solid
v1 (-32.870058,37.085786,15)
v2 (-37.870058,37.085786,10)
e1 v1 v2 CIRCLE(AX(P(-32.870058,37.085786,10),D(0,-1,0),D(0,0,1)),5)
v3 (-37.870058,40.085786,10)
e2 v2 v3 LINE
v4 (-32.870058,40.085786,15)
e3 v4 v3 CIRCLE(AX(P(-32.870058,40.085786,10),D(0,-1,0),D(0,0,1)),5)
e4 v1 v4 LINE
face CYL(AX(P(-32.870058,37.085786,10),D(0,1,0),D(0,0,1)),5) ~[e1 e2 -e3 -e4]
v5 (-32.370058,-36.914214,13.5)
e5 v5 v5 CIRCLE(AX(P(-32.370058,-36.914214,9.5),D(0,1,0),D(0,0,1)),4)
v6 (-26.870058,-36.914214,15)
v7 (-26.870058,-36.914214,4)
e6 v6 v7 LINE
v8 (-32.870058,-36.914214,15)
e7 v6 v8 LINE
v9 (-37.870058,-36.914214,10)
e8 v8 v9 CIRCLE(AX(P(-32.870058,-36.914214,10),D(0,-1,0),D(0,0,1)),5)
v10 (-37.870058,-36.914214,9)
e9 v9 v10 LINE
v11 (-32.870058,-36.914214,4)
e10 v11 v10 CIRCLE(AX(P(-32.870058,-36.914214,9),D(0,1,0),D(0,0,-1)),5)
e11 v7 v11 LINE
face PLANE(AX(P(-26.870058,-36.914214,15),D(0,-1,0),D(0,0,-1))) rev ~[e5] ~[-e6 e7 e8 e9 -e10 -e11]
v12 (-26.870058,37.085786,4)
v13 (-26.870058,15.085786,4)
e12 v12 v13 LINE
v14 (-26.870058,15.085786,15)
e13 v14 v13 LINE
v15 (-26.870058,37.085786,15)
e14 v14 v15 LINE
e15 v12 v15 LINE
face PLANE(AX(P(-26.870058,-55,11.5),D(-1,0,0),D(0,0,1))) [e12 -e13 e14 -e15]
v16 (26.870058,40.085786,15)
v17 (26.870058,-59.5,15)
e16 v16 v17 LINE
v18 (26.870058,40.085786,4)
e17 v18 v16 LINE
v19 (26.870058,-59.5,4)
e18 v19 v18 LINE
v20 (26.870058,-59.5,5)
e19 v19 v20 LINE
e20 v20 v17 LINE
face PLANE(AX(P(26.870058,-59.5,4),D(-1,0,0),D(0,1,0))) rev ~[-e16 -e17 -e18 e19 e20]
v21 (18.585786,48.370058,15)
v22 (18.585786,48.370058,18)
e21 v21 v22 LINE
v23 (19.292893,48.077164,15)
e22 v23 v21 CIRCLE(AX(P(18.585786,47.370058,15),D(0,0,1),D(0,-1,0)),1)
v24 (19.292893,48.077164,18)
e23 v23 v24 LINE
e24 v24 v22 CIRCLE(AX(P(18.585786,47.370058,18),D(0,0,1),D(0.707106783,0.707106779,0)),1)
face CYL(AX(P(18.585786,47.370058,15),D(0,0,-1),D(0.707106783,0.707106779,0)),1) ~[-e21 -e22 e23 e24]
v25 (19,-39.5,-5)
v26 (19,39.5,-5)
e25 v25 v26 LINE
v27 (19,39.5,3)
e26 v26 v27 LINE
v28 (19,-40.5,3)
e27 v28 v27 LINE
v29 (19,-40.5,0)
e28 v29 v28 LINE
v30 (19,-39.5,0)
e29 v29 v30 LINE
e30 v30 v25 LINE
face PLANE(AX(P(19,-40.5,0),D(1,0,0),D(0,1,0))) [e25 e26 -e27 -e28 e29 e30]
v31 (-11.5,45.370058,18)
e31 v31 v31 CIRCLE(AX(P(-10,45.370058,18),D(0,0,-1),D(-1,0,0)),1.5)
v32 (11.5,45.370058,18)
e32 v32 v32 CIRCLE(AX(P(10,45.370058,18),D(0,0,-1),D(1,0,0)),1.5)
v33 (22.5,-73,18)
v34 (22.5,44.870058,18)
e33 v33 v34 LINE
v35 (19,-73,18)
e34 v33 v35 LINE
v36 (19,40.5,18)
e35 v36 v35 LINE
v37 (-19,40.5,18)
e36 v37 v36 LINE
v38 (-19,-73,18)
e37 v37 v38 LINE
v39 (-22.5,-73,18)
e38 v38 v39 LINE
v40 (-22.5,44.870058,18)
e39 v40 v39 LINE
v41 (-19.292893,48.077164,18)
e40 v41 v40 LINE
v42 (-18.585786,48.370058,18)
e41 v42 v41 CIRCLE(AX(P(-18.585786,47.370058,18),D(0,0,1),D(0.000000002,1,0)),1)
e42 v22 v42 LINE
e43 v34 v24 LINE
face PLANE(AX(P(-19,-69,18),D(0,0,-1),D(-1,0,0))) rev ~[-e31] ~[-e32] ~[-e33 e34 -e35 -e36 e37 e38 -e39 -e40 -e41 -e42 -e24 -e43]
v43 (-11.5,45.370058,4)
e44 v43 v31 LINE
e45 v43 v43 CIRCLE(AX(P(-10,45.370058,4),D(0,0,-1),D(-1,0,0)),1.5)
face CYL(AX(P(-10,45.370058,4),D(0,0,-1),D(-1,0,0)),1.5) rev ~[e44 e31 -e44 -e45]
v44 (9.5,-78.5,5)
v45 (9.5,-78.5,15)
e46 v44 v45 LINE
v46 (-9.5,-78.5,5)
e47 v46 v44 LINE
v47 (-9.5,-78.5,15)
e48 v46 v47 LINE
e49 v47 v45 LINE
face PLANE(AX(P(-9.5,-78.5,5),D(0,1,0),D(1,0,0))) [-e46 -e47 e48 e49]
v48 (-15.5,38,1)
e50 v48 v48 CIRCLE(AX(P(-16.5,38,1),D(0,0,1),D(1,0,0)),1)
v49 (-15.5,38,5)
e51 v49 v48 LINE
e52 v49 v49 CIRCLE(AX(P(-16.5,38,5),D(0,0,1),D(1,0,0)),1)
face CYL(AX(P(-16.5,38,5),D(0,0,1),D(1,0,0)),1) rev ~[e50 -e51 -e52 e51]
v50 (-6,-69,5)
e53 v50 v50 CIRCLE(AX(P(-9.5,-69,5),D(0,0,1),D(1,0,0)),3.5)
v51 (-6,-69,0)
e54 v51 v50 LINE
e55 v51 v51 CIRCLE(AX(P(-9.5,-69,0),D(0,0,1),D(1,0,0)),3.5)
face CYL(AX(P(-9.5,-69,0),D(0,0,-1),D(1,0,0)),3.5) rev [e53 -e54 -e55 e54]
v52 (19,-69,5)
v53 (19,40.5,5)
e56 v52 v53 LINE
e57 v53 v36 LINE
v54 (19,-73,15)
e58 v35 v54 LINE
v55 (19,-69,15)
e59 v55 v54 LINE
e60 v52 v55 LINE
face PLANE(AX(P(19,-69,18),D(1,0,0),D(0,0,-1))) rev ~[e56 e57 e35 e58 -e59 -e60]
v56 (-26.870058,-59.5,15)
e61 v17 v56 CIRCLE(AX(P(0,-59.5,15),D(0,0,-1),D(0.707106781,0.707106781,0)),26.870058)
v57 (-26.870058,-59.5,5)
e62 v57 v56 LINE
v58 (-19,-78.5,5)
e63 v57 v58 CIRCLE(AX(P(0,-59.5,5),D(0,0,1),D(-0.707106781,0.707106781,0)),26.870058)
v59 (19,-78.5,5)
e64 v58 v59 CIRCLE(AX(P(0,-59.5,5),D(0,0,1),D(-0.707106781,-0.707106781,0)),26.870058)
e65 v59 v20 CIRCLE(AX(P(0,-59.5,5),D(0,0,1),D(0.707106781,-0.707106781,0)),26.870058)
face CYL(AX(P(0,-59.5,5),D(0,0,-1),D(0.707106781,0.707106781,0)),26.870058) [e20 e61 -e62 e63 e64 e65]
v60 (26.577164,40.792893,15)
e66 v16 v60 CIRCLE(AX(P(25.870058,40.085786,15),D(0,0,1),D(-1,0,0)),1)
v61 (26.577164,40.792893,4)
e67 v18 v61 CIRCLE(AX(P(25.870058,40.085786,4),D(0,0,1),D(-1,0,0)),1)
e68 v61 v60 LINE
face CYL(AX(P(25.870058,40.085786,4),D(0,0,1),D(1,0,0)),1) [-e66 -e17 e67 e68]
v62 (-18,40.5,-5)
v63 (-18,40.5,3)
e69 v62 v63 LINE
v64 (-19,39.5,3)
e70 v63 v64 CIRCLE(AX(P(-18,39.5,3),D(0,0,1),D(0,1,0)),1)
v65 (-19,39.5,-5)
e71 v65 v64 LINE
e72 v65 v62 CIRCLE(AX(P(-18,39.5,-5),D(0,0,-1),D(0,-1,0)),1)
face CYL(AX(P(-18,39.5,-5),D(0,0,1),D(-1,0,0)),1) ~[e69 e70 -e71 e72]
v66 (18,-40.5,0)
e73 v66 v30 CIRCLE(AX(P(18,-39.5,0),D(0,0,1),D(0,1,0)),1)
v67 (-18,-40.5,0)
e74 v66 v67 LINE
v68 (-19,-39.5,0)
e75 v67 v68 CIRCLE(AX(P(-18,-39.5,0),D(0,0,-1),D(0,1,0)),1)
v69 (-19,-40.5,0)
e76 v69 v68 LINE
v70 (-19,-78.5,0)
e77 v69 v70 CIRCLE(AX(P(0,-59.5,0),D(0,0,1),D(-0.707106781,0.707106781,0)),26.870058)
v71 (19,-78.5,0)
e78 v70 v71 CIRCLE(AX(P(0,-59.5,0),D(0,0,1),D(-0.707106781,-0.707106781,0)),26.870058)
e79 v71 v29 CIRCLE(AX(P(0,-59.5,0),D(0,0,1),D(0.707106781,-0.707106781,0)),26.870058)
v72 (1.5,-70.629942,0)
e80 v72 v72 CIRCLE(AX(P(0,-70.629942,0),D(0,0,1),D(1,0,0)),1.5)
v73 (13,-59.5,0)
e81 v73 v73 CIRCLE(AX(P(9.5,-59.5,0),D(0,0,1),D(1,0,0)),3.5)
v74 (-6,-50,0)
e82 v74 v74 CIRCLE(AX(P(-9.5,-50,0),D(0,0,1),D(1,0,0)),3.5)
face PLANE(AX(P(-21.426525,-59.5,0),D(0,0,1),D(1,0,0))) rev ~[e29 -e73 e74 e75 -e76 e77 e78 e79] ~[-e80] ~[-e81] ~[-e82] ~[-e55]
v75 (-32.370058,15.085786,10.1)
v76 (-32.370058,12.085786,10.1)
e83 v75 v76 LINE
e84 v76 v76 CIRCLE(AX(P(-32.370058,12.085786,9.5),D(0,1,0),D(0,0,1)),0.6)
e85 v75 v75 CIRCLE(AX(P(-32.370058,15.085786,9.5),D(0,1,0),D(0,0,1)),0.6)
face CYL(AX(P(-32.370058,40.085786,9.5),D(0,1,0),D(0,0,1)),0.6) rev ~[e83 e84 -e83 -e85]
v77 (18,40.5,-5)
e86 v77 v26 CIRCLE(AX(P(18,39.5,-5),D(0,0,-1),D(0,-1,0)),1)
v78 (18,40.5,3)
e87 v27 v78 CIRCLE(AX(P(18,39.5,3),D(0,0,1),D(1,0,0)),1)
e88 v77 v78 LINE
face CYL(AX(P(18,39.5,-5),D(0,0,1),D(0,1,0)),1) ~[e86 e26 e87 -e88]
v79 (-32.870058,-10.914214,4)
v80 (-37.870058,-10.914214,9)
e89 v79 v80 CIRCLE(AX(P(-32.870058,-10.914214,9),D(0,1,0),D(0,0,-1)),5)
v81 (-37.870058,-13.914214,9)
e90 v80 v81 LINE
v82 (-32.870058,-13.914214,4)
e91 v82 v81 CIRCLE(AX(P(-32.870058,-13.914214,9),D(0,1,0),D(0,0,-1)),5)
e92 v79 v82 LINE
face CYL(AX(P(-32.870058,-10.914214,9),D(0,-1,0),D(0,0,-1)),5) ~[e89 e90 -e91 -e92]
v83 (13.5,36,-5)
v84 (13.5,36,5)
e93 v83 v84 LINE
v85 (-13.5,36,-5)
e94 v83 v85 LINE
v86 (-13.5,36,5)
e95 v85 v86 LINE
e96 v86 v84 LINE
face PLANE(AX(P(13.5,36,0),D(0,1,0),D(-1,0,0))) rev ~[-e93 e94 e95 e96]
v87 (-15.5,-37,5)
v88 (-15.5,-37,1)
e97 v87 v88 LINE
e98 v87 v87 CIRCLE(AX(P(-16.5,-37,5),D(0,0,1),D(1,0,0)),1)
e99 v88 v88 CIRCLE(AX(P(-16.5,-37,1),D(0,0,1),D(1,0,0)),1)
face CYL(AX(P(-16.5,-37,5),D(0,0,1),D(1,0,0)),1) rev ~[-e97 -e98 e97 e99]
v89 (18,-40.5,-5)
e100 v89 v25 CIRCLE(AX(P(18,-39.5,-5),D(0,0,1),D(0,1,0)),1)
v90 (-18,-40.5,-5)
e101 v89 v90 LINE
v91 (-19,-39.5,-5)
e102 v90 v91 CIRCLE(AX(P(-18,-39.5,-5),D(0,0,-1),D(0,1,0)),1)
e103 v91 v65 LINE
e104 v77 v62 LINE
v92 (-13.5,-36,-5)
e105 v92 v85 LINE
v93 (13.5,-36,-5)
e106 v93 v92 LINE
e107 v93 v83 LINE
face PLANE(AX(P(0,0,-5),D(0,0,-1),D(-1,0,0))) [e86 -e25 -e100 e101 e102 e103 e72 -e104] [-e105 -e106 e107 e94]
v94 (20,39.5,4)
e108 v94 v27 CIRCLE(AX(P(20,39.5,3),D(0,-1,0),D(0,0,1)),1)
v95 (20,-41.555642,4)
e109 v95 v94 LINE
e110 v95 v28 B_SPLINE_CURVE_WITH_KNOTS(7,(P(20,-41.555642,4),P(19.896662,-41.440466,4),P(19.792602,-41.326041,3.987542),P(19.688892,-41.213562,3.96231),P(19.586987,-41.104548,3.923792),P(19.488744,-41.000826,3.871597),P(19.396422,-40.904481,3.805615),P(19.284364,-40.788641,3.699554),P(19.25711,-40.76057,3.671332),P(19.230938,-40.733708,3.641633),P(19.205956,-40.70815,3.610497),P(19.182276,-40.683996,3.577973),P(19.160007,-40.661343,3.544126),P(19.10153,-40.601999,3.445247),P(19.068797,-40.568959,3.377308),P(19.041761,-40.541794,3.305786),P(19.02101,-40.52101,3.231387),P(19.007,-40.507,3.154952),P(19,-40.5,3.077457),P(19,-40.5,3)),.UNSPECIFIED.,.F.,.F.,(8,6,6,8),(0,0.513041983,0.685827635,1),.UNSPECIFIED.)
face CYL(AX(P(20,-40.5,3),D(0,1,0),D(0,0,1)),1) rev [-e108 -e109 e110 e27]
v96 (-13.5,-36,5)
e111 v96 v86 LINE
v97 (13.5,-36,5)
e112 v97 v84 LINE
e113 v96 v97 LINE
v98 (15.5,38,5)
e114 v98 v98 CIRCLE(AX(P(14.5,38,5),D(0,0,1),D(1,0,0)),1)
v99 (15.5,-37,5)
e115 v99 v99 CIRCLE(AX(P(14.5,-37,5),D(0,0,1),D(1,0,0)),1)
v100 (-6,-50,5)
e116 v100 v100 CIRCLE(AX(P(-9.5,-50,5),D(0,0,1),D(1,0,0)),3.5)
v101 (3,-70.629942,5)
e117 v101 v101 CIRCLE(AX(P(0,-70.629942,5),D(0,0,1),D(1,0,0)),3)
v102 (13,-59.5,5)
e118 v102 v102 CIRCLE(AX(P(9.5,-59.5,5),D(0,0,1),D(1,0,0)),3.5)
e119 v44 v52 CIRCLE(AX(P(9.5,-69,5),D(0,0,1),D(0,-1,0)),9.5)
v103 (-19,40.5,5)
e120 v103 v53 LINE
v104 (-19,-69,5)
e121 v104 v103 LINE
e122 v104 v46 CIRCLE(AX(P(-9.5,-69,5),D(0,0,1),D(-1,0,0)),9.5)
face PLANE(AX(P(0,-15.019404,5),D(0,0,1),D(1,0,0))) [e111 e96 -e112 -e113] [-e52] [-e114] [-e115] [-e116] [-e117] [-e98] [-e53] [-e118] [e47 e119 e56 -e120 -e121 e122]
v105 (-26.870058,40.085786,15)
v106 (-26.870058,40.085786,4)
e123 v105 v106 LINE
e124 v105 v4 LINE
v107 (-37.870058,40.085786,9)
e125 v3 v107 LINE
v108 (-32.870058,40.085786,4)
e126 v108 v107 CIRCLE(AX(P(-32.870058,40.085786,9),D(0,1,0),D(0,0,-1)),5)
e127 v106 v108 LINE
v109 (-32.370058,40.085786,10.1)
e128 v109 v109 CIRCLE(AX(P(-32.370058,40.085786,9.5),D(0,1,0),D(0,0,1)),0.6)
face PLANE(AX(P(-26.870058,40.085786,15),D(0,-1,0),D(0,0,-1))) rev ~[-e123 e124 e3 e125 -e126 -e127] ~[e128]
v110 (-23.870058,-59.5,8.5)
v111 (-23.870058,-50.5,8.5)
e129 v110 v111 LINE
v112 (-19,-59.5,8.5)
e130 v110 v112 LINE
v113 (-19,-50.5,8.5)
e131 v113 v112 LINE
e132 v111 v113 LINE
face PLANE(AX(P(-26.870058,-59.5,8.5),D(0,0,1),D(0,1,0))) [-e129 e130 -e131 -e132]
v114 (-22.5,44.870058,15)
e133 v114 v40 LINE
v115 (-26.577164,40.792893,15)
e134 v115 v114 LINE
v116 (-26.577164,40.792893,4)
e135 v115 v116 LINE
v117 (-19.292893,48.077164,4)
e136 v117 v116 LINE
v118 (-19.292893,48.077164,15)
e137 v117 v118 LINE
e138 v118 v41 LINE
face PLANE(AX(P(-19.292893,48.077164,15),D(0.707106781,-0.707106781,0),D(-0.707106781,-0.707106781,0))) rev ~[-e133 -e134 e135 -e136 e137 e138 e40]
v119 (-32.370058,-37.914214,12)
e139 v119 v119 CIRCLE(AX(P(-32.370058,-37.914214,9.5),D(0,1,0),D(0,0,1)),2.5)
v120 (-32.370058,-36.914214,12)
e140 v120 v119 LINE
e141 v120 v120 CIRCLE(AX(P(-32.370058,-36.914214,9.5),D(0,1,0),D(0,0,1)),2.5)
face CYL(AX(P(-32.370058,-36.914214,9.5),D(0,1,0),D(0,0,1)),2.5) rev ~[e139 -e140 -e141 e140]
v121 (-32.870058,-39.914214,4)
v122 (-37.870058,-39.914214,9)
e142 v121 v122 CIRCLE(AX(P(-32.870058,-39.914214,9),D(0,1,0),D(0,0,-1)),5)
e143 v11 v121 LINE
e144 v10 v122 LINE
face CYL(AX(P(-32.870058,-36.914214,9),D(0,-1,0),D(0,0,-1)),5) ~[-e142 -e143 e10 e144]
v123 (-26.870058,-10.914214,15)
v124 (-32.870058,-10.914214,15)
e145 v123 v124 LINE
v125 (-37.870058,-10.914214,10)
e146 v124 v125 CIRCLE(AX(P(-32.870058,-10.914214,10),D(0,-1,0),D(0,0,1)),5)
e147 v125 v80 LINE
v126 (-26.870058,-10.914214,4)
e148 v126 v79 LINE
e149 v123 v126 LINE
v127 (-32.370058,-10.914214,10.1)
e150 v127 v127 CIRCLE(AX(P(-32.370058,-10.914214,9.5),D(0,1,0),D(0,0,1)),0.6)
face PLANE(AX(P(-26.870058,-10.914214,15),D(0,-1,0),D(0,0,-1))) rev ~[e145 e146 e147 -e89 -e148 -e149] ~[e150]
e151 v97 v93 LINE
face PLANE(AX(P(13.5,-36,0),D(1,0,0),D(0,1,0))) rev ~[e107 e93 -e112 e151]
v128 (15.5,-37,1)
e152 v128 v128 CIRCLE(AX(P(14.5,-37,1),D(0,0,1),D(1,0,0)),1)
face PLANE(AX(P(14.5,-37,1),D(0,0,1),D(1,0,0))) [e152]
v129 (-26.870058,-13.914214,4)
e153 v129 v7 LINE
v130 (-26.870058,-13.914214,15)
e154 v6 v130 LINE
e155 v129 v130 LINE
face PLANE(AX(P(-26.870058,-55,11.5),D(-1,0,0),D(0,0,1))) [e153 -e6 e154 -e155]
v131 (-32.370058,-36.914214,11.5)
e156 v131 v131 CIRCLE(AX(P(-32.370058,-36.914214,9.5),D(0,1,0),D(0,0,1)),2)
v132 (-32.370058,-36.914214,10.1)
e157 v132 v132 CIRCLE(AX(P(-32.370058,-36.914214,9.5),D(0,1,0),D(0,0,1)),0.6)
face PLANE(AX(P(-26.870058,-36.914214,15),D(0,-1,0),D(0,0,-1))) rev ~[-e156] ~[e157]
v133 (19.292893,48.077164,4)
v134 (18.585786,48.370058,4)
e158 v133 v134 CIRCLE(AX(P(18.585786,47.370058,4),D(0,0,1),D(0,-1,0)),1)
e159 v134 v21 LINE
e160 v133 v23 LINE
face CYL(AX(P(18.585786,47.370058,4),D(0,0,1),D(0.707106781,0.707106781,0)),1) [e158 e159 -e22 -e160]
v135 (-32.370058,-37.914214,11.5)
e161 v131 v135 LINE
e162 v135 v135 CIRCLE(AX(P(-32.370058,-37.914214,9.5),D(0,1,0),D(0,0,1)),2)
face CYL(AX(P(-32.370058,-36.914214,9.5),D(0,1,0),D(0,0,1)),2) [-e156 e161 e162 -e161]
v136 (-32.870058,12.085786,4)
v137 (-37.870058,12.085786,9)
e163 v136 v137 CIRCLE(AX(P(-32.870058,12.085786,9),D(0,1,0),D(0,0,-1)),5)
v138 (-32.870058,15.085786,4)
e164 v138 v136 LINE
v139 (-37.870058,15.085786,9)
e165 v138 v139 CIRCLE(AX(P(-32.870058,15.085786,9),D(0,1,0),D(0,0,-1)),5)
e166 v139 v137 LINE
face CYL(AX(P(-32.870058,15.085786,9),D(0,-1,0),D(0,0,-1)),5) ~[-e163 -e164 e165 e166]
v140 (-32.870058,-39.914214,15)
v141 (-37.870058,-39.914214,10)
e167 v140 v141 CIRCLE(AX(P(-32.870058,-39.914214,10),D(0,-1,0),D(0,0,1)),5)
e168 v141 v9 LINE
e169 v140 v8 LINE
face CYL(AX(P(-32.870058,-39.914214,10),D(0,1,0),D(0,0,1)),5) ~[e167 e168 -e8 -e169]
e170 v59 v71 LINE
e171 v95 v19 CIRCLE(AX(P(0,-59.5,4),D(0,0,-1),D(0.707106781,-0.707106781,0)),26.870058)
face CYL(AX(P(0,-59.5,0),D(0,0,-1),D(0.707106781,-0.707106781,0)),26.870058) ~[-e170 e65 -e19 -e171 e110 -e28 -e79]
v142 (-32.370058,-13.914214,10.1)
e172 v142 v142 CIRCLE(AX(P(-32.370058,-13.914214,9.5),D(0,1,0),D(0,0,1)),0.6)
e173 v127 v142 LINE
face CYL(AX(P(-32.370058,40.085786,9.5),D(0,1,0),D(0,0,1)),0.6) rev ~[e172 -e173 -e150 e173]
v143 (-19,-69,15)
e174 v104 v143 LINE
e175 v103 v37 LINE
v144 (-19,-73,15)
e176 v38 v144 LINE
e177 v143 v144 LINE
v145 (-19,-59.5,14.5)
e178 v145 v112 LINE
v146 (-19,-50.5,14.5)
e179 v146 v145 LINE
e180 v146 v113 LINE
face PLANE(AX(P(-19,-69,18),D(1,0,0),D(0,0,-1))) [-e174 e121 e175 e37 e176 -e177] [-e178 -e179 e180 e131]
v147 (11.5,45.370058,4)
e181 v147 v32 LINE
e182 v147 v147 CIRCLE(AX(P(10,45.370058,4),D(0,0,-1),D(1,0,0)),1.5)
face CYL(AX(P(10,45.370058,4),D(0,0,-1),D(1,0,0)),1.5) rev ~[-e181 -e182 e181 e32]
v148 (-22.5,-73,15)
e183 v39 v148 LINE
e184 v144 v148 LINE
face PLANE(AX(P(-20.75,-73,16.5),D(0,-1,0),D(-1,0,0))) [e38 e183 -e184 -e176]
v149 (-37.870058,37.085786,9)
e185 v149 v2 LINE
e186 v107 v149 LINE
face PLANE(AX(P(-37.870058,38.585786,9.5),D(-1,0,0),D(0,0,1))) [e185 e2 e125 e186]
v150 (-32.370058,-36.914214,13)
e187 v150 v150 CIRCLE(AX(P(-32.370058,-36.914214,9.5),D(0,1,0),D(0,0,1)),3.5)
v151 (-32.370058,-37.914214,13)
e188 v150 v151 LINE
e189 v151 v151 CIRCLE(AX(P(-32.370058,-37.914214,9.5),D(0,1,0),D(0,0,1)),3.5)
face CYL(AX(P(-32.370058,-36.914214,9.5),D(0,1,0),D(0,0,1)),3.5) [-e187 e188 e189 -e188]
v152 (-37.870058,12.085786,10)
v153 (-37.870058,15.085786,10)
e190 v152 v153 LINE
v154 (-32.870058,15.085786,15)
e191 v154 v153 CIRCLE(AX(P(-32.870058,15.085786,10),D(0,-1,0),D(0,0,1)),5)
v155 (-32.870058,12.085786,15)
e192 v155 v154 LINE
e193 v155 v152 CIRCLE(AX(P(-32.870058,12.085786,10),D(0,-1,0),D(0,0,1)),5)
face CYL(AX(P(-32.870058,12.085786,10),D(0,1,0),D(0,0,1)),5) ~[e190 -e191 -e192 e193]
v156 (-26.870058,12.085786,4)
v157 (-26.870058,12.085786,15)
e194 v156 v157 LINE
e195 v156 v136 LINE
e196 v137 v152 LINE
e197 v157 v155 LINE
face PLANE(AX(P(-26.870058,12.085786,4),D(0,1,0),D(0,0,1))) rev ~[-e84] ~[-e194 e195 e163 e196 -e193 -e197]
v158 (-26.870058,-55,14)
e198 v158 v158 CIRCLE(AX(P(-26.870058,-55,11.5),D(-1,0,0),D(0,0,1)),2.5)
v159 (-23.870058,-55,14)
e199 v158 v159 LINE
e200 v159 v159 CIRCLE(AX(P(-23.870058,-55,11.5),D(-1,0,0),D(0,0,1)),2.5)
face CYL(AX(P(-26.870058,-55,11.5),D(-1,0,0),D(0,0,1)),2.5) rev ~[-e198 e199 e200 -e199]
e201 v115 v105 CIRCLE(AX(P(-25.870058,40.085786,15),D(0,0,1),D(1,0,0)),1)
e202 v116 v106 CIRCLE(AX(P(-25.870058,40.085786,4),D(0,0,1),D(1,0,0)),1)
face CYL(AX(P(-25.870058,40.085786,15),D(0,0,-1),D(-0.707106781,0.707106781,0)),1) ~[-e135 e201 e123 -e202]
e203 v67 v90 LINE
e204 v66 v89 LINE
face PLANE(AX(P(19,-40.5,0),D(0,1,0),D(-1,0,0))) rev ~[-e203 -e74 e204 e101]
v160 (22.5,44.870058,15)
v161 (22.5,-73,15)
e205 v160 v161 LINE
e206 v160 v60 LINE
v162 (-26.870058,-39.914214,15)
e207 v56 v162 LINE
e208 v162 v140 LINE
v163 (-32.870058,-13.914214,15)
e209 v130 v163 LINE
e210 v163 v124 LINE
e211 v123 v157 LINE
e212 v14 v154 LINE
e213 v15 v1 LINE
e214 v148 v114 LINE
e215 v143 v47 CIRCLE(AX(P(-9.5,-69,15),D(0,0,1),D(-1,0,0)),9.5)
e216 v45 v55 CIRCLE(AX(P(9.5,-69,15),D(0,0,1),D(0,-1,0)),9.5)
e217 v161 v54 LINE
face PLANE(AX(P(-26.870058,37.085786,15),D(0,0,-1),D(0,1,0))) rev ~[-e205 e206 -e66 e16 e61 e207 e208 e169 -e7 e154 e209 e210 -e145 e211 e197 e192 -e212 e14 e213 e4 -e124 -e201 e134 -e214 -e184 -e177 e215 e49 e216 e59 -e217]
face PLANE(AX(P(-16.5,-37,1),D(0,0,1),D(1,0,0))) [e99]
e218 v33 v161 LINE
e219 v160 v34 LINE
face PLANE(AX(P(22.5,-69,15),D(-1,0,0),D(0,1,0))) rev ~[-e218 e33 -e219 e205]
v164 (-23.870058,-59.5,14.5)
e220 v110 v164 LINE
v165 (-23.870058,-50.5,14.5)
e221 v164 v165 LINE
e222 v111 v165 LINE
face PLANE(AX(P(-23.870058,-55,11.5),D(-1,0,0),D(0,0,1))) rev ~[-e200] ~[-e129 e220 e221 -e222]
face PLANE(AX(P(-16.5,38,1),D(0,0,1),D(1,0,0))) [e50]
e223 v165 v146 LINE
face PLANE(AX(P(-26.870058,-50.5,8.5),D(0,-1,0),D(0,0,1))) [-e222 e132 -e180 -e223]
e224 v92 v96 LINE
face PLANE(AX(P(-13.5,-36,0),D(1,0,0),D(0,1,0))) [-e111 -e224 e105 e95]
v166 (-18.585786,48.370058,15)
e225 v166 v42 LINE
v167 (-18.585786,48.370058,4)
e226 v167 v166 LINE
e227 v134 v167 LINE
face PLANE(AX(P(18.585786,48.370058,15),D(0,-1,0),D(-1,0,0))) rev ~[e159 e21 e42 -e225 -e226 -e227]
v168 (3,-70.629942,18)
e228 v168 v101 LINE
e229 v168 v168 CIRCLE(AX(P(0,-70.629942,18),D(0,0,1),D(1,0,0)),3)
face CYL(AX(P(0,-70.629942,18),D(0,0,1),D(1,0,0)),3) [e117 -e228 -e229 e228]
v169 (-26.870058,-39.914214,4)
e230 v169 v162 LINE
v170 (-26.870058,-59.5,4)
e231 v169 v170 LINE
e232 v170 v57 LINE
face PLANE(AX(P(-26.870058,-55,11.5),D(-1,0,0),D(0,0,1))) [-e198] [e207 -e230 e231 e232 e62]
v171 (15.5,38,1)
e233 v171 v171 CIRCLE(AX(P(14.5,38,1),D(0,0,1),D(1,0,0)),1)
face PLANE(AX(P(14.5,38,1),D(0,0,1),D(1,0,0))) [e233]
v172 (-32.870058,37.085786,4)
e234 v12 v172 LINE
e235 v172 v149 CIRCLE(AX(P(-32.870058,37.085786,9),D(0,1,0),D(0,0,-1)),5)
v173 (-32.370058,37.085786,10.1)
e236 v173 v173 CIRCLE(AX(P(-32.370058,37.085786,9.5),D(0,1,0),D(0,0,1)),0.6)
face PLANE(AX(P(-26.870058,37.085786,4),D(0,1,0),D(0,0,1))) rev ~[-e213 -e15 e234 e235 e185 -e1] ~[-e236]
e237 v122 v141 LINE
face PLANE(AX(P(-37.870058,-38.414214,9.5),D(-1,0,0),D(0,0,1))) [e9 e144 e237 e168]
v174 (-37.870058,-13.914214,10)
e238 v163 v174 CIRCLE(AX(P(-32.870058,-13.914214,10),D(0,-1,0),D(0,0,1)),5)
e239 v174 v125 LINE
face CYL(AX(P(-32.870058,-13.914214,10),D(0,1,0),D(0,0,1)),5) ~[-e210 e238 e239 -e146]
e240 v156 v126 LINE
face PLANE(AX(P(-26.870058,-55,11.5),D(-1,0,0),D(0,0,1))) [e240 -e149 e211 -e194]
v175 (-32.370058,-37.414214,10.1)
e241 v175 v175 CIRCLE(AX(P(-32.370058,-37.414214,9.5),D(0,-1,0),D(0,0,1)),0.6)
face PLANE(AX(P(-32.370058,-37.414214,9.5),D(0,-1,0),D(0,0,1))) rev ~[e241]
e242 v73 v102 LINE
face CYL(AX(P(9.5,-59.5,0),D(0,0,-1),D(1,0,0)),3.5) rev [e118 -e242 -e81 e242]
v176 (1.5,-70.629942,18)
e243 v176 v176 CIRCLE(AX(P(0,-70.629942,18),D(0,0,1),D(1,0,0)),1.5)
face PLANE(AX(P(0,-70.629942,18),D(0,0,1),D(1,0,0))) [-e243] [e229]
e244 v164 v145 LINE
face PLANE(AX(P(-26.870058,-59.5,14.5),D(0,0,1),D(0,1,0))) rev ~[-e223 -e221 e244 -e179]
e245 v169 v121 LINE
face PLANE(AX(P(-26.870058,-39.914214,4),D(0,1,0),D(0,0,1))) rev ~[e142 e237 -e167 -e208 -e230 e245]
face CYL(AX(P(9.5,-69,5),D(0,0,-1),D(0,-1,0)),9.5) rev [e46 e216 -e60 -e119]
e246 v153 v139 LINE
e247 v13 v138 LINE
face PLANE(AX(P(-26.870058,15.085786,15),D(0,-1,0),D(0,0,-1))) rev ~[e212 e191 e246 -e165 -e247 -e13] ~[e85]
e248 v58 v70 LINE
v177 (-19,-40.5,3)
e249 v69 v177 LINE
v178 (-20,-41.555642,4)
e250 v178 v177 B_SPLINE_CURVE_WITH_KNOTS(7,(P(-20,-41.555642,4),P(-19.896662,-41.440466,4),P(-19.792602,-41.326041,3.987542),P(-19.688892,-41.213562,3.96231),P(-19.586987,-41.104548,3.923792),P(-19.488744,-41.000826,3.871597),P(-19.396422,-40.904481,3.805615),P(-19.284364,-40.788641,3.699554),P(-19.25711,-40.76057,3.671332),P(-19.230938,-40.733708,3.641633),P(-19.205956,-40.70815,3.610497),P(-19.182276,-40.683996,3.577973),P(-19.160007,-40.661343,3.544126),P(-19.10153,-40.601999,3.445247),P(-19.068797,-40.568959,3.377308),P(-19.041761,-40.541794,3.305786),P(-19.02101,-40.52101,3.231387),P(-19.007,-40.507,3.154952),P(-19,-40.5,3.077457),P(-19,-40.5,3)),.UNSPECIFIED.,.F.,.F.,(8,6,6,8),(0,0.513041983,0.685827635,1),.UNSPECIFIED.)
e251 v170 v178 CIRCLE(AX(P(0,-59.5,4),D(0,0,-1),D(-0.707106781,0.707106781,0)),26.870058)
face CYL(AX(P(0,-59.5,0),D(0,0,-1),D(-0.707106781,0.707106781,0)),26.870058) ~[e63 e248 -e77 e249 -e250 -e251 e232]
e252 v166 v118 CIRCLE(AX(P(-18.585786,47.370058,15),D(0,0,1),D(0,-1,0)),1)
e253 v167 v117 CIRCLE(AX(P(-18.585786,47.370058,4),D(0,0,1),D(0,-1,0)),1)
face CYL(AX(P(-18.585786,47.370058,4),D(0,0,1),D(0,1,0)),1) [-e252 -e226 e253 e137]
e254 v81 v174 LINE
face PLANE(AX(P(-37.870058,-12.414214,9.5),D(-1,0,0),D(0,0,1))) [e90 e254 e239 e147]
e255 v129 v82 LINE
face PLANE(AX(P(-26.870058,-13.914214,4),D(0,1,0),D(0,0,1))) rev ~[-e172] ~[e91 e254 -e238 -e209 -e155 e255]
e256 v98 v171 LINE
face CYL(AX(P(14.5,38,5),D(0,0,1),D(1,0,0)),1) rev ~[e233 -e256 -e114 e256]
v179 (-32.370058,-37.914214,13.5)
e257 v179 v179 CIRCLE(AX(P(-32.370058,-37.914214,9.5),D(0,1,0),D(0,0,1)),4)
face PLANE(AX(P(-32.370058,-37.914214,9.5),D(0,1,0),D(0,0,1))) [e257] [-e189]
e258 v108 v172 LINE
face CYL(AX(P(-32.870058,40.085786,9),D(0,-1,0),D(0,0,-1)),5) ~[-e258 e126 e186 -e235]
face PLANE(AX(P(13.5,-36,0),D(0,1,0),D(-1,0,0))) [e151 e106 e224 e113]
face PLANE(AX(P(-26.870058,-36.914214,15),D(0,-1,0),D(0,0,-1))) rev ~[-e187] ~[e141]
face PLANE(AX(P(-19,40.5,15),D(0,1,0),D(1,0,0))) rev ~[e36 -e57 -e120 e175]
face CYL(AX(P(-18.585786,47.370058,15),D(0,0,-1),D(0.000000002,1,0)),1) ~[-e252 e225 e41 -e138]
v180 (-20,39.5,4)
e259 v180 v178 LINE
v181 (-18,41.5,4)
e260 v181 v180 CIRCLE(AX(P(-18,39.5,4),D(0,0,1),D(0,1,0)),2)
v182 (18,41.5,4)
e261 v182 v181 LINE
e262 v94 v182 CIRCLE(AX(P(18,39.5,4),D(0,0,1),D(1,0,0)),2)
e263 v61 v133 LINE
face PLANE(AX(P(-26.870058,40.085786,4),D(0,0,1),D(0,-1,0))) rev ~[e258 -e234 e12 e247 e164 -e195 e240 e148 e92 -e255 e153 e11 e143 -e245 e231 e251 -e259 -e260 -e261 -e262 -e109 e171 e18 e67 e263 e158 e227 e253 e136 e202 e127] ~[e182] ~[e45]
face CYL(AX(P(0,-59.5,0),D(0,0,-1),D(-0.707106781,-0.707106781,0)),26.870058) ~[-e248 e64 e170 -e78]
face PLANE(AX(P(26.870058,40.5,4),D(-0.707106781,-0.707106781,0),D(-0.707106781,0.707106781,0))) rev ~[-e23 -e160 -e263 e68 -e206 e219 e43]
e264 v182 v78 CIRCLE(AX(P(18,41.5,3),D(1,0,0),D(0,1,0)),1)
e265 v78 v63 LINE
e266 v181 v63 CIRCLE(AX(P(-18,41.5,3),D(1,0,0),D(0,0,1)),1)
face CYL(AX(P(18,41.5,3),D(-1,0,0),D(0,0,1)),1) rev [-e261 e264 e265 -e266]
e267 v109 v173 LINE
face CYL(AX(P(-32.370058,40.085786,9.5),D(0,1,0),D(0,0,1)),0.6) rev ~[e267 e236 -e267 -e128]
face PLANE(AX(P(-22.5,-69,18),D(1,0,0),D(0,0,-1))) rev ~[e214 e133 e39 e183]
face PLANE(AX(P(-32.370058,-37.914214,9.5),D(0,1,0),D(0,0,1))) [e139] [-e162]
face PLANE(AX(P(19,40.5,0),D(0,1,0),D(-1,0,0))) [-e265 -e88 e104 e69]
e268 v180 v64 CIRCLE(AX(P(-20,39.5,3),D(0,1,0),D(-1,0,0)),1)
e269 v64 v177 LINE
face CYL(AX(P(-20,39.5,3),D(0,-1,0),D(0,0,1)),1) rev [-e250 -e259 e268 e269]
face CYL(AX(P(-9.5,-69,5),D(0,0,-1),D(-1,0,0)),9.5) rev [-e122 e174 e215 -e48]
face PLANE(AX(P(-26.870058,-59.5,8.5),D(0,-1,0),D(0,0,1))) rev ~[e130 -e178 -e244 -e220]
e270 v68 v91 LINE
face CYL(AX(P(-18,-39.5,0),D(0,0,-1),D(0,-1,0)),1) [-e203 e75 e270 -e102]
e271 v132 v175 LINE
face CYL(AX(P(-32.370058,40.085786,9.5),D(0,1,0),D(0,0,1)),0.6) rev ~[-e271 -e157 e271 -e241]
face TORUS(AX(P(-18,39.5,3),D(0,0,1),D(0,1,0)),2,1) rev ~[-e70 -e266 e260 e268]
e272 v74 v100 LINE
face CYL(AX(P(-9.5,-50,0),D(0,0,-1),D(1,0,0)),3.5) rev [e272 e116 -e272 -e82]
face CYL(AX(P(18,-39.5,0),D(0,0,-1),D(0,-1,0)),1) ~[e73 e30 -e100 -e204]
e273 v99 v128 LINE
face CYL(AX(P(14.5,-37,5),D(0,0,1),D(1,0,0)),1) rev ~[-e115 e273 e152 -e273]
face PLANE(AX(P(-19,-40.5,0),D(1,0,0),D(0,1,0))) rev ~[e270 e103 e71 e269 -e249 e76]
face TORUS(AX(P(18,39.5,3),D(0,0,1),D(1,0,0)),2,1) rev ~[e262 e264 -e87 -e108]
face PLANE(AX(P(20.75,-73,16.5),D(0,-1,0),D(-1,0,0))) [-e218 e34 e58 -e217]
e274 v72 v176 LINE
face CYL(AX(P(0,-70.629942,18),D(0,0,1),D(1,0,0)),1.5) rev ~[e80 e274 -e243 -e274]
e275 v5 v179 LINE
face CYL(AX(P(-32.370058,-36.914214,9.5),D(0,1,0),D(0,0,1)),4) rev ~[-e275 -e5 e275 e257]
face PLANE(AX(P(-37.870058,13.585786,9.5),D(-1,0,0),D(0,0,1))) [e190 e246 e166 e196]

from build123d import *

# Parameters (mm, degrees)
CROQUIS1_W               = 38
CROQUIS1_H               = 81
CROQUIS1_W_2             = 27
CROQUIS1_H_2             = 72
CROQUIS1_H_3             = 38
CROQUIS1_R               = 3.5
SALIENTE_EXTRUIR1_DEPTH  = 5
CROQUIS2_W               = 38
CROQUIS2_H               = 81
CROQUIS2_W_2             = 27
CROQUIS2_H_2             = 72
SALIENTE_EXTRUIR2_DEPTH  = 5
SALIENTE_EXTRUIR9_START  = -1
SALIENTE_EXTRUIR9_DEPTH  = 1
SALIENTE_EXTRUIR10_DEPTH = 11
SALIENTE_EXTRUIR11_DEPTH = 10
REDONDEO1_R              = 1
REDONDEO2_R              = 1
REDONDEO3_R              = 1
CROQUIS6_W               = 6
CROQUIS6_H               = 9
CORTAR_EXTRUIR1_DEPTH    = 8
CROQUIS7_W               = 6
CROQUIS7_H               = 9
CROQUIS7_R               = 2.5
SALIENTE_EXTRUIR12_DEPTH = 3
SALIENTE_EXTRUIR13_DEPTH = 11
REDONDEO4_R              = 5
CROQUIS9_R               = 0.6
CORTAR_EXTRUIR2_DEPTH    = 80
SALIENTE_EXTRUIR14_START = -2.5
CROQUIS10_R              = 0.6
SALIENTE_EXTRUIR14_DEPTH = 2.5
CROQUIS11_R              = 4
CROQUIS11_R_2            = 3.5
CROQUIS11_R_3            = 2.5
CROQUIS11_R_4            = 2
CORTAR_EXTRUIR3_DEPTH    = 1
SALIENTE_EXTRUIR15_DEPTH = 3
CROQUIS14_R              = 1.5
CORTAR_EXTRUIR4_DEPTH    = 14
CROQUIS16_W              = 3.5
CROQUIS16_H              = 3
SALIENTE_EXTRUIR16_DEPTH = 4
CROQUIS25_R              = 3
CROQUIS25_R_2            = 1.5
SALIENTE_EXTRUIR21_DEPTH = 18
CROQUIS26_R              = 1.5
CORTAR_EXTRUIR7_DEPTH    = 18
CROQUIS28_R              = 1
CORTAR_EXTRUIR8_DEPTH    = 4


with BuildPart() as part:
    # Croquis1 → Saliente-Extruir1 (new body)
    # profile 1 of 5: a face of its own
    with BuildSketch(Plane.XY):
        Rectangle(CROQUIS1_W, CROQUIS1_H)
        Rectangle(CROQUIS1_W_2, CROQUIS1_H_2, mode=Mode.SUBTRACT)
    # profile 2 of 5: a face of its own
    with BuildSketch(Plane.XY):
        with Locations((0, -59.5)):
            Rectangle(CROQUIS1_W, CROQUIS1_H_3)
        with Locations((-9.5, -69)):
            Circle(CROQUIS1_R, mode=Mode.SUBTRACT)
        with Locations((9.5, -59.5)):
            Circle(CROQUIS1_R, mode=Mode.SUBTRACT)
        with Locations((-9.5, -50)):
            Circle(CROQUIS1_R, mode=Mode.SUBTRACT)
    # profile 3 of 5: a face of its own
    with BuildSketch(Plane.XY):
        with BuildLine():
            ThreePointArc((19, -78.5), (26.870057685, -59.5), (19, -40.5))
            Line((19, -40.5), (19, -78.5))
        make_face()
    # profile 4 of 5: a face of its own
    with BuildSketch(Plane.XY):
        with BuildLine():
            Line((19, -78.5), (-19, -78.5))
            ThreePointArc((-19, -78.5), (0, -86.370057685), (19, -78.5))
        make_face()
    # profile 5 of 5: a face of its own
    with BuildSketch(Plane.XY):
        with BuildLine():
            Line((-19, -78.5), (-19, -40.5))
            ThreePointArc((-19, -40.5), (-26.870057685, -59.5), (-19, -78.5))
        make_face()
    extrude(amount=SALIENTE_EXTRUIR1_DEPTH)

    # Croquis2 → Saliente-Extruir2 (add)
    with BuildSketch(Plane(origin=(0, 0, 0), x_dir=(-1, 0, 0), z_dir=(0, 0, -1))):
        Rectangle(CROQUIS2_W, CROQUIS2_H)
        Rectangle(CROQUIS2_W_2, CROQUIS2_H_2, mode=Mode.SUBTRACT)
    extrude(amount=SALIENTE_EXTRUIR2_DEPTH)

    # Croquis3 → Saliente-Extruir9 (add)
    with BuildSketch(Plane.XY.offset(5).offset(SALIENTE_EXTRUIR9_START)):
        with BuildLine():
            Line((26.870057685, -59.5), (26.870057685, 40.5))
            Line((26.870057685, 40.5), (19, 48.370057685))
            Line((19, 48.370057685), (-19, 48.370057685))
            Line((-19, 48.370057685), (-26.870057685, 40.5))
            Line((-26.870057685, 40.5), (-26.870057685, -59.5))
            ThreePointArc((-26.870057685, -59.5), (0, -86.370057685), (26.870057685, -59.5))
        make_face()
        with BuildLine():
            Line((19, -59.5), (19, 40.5))
            Line((19, 40.5), (-19, 40.5))
            Line((-19, 40.5), (-19, -59.5))
            ThreePointArc((-19, -59.5), (0, -78.5), (19, -59.5))
        make_face(mode=Mode.SUBTRACT)
    extrude(amount=SALIENTE_EXTRUIR9_DEPTH)

    # Croquis4 → Saliente-Extruir10 (add)
    with BuildSketch(Plane(origin=(0, 0, 4), x_dir=(-1, 0, 0), z_dir=(0, 0, -1))):
        with BuildLine():
            Line((19, 40.5), (19, -40.5))
            ThreePointArc((19, -40.5), (24.824696333, -49.217274097), (26.870057685, -59.5))
            Line((26.870057685, -59.5), (26.870057685, 40.5))
            Line((26.870057685, 40.5), (19, 48.370057685))
            Line((19, 48.370057685), (-19, 48.370057685))
            Line((-19, 48.370057685), (-26.870057685, 40.5))
            Line((-26.870057685, 40.5), (-26.870057685, -59.5))
            ThreePointArc((-26.870057685, -59.5), (-24.824696333, -49.217274097), (-19, -40.5))
            Line((-19, -40.5), (-19, 40.5))
            Line((-19, 40.5), (19, 40.5))
        make_face()
    extrude(amount=-SALIENTE_EXTRUIR10_DEPTH)

    # Croquis5 → Saliente-Extruir11 (add)
    with BuildSketch(Plane.XY.offset(5)):
        with BuildLine():
            Line((-19, -59.5), (-19, -69))
            ThreePointArc((-19, -69), (-16.217514421, -75.717514421), (-9.5, -78.5))
            Line((-9.5, -78.5), (9.5, -78.5))
            ThreePointArc((9.5, -78.5), (16.217514421, -75.717514421), (19, -69))
            Line((19, -69), (19, -59.5))
            Line((19, -59.5), (19, -40.5))
            ThreePointArc((19, -40.5), (0, -86.370057685), (-19, -40.5))
            Line((-19, -40.5), (-19, -59.5))
        make_face()
    extrude(amount=SALIENTE_EXTRUIR11_DEPTH)

    # Redondeo1
    redondeo1_edges = [part.edges().sort_by_distance(p)[0] for p in [
        (19, -40.5, -2.5),
        (-19, -40.5, -2.5),
        (19, 40.5, -0.5),
        (-19, 40.5, -0.5),
    ]]
    fillet(redondeo1_edges, radius=REDONDEO1_R)

    # Redondeo2
    redondeo2_edges = [part.edges().sort_by_distance(p)[0] for p in [
        (-19, -0.5, 4),
        (0, 40.5, 4),
        (-18.707106781, 40.207106781, 4),
        (18.707106781, 40.207106781, 4),
        (19, -0.5, 4),
    ]]
    fillet(redondeo2_edges, radius=REDONDEO2_R)

    # Redondeo3
    redondeo3_edges = [part.edges().sort_by_distance(p)[0] for p in [
        (19, 48.370057685, 9.5),
        (26.870057685, 40.5, 9.5),
        (-26.870057685, 40.5, 9.5),
        (-19, 48.370057685, 9.5),
    ]]
    fillet(redondeo3_edges, radius=REDONDEO3_R)

    # Croquis6 → Cortar-Extruir1 (cut)
    with BuildSketch(Plane.ZY.offset(26.870057685)):
        with Locations((11.5, -55)):
            Rectangle(CROQUIS6_W, CROQUIS6_H)
    extrude(amount=-CORTAR_EXTRUIR1_DEPTH, mode=Mode.SUBTRACT)

    # Croquis7 → Saliente-Extruir12 (add)
    with BuildSketch(Plane.ZY.offset(26.870057685)):
        with Locations((11.5, -55)):
            Rectangle(CROQUIS7_W, CROQUIS7_H)
        with Locations((11.5, -55)):
            Circle(CROQUIS7_R, mode=Mode.SUBTRACT)
    extrude(amount=-SALIENTE_EXTRUIR12_DEPTH)

    # Croquis8 → Saliente-Extruir13 (add)
    with BuildSketch(Plane.ZY.offset(26.870057685)):
        Polygon((15, 40.085786438), (4, 40.085786438), (4, 37.085786438), (9.5, 37.085786438), (15, 37.085786438), align=None)
        Polygon((9.5, 15.085786438), (4, 15.085786438), (4, 12.085786438), (9.5, 12.085786438), (15, 12.085786438), (15, 15.085786438), align=None)
        Polygon((9.5, -10.914213562), (4, -10.914213562), (4, -13.914213562), (9.5, -13.914213562), (15, -13.914213562), (15, -10.914213562), align=None)
        Polygon((9.5, -36.914213562), (4, -36.914213562), (4, -39.914213562), (15, -39.914213562), (15, -36.914213562), align=None)
    extrude(amount=SALIENTE_EXTRUIR13_DEPTH)

    # Redondeo4
    redondeo4_edges = [part.edges().sort_by_distance(p)[0] for p in [
        (-37.870057685, 38.585786438, 4),
        (-37.870057685, 38.585786438, 15),
        (-37.870057685, 13.585786438, 4),
        (-37.870057685, 13.585786438, 15),
        (-37.870057685, -12.414213562, 4),
        (-37.870057685, -12.414213562, 15),
        (-37.870057685, -38.414213562, 4),
        (-37.870057685, -38.414213562, 15),
    ]]
    fillet(redondeo4_edges, radius=REDONDEO4_R)

    # Croquis9 → Cortar-Extruir2 (cut)
    with BuildSketch(Plane(origin=(0, 40.085786438, 0), x_dir=(1, 0, 0), z_dir=(0, 1, 0))):
        with Locations(Location((-32.370057685, -9.5, 0), (0, 0, 270))):
            Circle(CROQUIS9_R)
    extrude(amount=-CORTAR_EXTRUIR2_DEPTH, mode=Mode.SUBTRACT)

    # Croquis10 → Saliente-Extruir14 (add)
    with BuildSketch(Plane.XZ.offset(39.914213562).offset(SALIENTE_EXTRUIR14_START)):
        with Locations(Location((-32.370057685, 9.5, 0), (0, 0, 90))):
            Circle(CROQUIS10_R)
    extrude(amount=SALIENTE_EXTRUIR14_DEPTH)

    # Croquis11 → Cortar-Extruir3 (cut)
    # profile 1 of 2: a face of its own
    with BuildSketch(Plane(origin=(0, -36.914213562, 0), x_dir=(1, 0, 0), z_dir=(0, 1, 0))):
        with Locations(Location((-32.370057685, -9.5, 0), (0, 0, 270))):
            Circle(CROQUIS11_R)
        with Locations(Location((-32.370057685, -9.5, 0), (0, 0, 270))):
            Circle(CROQUIS11_R_2, mode=Mode.SUBTRACT)
    # profile 2 of 2: a face of its own
    with BuildSketch(Plane(origin=(0, -36.914213562, 0), x_dir=(1, 0, 0), z_dir=(0, 1, 0))):
        with Locations(Location((-32.370057685, -9.5, 0), (0, 0, 270))):
            Circle(CROQUIS11_R_3)
        with Locations(Location((-32.370057685, -9.5, 0), (0, 0, 270))):
            Circle(CROQUIS11_R_4, mode=Mode.SUBTRACT)
    extrude(amount=-CORTAR_EXTRUIR3_DEPTH, mode=Mode.SUBTRACT)

    # Croquis13 → Saliente-Extruir15 (add)
    with BuildSketch(Plane.XY.offset(15)):
        Polygon((-19, -65.5), (-19, 40.5), (-22.5, 40.5), (-22.5, -69), (-19, -69), align=None)
        Polygon((22.5, 40.5), (19, 40.5), (19, -65.5), (19, -69), (22.5, -69), align=None)
        with BuildLine():
            Line((-19, 40.5), (19, 40.5))
            Line((19, 40.5), (22.5, 40.5))
            Line((22.5, 40.5), (22.5, 44.870057685))
            Line((22.5, 44.870057685), (19.292893219, 48.077164466))
            ThreePointArc((19.292893219, 48.077164466), (18.96846987, 48.293937218), (18.585786438, 48.370057685))
            Line((18.585786438, 48.370057685), (-18.585786438, 48.370057685))
            ThreePointArc((-18.585786438, 48.370057685), (-18.96846987, 48.293937218), (-19.292893219, 48.077164466))
            Line((-19.292893219, 48.077164466), (-22.5, 44.870057685))
            Line((-22.5, 44.870057685), (-22.5, 40.5))
            Line((-22.5, 40.5), (-19, 40.5))
        make_face()
    extrude(amount=SALIENTE_EXTRUIR15_DEPTH)

    # Croquis14 → Cortar-Extruir4 (cut)
    with BuildSketch(Plane(origin=(0, 0, 4), x_dir=(-1, 0, 0), z_dir=(0, 0, -1))):
        with Locations((10, 45.370057685)):
            Circle(CROQUIS14_R)
        with Locations(Location((-10, 45.370057685, 0), (0, 0, 180))):
            Circle(CROQUIS14_R)
    extrude(amount=-CORTAR_EXTRUIR4_DEPTH, mode=Mode.SUBTRACT)

    # Croquis16 → Saliente-Extruir16 (add)
    with BuildSketch(Plane(origin=(0, -69, 0), x_dir=(-1, 0, 0), z_dir=(0, -1, 0))):
        with Locations((20.75, -16.5)):
            Rectangle(CROQUIS16_W, CROQUIS16_H)
        with Locations((-20.75, -16.5)):
            Rectangle(CROQUIS16_W, CROQUIS16_H)
    extrude(amount=SALIENTE_EXTRUIR16_DEPTH)

    # Croquis25 → Saliente-Extruir21 (add)
    with BuildSketch(Plane.XY.offset(18)):
        with Locations((0, -70.629942315)):
            Circle(CROQUIS25_R)
        with Locations((0, -70.629942315)):
            Circle(CROQUIS25_R_2, mode=Mode.SUBTRACT)
    extrude(amount=-SALIENTE_EXTRUIR21_DEPTH)

    # Croquis26 → Cortar-Extruir7 (cut)
    with BuildSketch(Plane.XY.offset(18)):
        with Locations((0, -70.629942315)):
            Circle(CROQUIS26_R)
    extrude(amount=-CORTAR_EXTRUIR7_DEPTH, mode=Mode.SUBTRACT)

    # Croquis28 → Cortar-Extruir8 (cut)
    with BuildSketch(Plane.XY.offset(5)):
        with Locations((-16.5, 38)):
            Circle(CROQUIS28_R)
        with Locations((14.5, 38)):
            Circle(CROQUIS28_R)
        with Locations((14.5, -37)):
            Circle(CROQUIS28_R)
        with Locations((-16.5, -37)):
            Circle(CROQUIS28_R)
    extrude(amount=-CORTAR_EXTRUIR8_DEPTH, mode=Mode.SUBTRACT)


solid = part.part
